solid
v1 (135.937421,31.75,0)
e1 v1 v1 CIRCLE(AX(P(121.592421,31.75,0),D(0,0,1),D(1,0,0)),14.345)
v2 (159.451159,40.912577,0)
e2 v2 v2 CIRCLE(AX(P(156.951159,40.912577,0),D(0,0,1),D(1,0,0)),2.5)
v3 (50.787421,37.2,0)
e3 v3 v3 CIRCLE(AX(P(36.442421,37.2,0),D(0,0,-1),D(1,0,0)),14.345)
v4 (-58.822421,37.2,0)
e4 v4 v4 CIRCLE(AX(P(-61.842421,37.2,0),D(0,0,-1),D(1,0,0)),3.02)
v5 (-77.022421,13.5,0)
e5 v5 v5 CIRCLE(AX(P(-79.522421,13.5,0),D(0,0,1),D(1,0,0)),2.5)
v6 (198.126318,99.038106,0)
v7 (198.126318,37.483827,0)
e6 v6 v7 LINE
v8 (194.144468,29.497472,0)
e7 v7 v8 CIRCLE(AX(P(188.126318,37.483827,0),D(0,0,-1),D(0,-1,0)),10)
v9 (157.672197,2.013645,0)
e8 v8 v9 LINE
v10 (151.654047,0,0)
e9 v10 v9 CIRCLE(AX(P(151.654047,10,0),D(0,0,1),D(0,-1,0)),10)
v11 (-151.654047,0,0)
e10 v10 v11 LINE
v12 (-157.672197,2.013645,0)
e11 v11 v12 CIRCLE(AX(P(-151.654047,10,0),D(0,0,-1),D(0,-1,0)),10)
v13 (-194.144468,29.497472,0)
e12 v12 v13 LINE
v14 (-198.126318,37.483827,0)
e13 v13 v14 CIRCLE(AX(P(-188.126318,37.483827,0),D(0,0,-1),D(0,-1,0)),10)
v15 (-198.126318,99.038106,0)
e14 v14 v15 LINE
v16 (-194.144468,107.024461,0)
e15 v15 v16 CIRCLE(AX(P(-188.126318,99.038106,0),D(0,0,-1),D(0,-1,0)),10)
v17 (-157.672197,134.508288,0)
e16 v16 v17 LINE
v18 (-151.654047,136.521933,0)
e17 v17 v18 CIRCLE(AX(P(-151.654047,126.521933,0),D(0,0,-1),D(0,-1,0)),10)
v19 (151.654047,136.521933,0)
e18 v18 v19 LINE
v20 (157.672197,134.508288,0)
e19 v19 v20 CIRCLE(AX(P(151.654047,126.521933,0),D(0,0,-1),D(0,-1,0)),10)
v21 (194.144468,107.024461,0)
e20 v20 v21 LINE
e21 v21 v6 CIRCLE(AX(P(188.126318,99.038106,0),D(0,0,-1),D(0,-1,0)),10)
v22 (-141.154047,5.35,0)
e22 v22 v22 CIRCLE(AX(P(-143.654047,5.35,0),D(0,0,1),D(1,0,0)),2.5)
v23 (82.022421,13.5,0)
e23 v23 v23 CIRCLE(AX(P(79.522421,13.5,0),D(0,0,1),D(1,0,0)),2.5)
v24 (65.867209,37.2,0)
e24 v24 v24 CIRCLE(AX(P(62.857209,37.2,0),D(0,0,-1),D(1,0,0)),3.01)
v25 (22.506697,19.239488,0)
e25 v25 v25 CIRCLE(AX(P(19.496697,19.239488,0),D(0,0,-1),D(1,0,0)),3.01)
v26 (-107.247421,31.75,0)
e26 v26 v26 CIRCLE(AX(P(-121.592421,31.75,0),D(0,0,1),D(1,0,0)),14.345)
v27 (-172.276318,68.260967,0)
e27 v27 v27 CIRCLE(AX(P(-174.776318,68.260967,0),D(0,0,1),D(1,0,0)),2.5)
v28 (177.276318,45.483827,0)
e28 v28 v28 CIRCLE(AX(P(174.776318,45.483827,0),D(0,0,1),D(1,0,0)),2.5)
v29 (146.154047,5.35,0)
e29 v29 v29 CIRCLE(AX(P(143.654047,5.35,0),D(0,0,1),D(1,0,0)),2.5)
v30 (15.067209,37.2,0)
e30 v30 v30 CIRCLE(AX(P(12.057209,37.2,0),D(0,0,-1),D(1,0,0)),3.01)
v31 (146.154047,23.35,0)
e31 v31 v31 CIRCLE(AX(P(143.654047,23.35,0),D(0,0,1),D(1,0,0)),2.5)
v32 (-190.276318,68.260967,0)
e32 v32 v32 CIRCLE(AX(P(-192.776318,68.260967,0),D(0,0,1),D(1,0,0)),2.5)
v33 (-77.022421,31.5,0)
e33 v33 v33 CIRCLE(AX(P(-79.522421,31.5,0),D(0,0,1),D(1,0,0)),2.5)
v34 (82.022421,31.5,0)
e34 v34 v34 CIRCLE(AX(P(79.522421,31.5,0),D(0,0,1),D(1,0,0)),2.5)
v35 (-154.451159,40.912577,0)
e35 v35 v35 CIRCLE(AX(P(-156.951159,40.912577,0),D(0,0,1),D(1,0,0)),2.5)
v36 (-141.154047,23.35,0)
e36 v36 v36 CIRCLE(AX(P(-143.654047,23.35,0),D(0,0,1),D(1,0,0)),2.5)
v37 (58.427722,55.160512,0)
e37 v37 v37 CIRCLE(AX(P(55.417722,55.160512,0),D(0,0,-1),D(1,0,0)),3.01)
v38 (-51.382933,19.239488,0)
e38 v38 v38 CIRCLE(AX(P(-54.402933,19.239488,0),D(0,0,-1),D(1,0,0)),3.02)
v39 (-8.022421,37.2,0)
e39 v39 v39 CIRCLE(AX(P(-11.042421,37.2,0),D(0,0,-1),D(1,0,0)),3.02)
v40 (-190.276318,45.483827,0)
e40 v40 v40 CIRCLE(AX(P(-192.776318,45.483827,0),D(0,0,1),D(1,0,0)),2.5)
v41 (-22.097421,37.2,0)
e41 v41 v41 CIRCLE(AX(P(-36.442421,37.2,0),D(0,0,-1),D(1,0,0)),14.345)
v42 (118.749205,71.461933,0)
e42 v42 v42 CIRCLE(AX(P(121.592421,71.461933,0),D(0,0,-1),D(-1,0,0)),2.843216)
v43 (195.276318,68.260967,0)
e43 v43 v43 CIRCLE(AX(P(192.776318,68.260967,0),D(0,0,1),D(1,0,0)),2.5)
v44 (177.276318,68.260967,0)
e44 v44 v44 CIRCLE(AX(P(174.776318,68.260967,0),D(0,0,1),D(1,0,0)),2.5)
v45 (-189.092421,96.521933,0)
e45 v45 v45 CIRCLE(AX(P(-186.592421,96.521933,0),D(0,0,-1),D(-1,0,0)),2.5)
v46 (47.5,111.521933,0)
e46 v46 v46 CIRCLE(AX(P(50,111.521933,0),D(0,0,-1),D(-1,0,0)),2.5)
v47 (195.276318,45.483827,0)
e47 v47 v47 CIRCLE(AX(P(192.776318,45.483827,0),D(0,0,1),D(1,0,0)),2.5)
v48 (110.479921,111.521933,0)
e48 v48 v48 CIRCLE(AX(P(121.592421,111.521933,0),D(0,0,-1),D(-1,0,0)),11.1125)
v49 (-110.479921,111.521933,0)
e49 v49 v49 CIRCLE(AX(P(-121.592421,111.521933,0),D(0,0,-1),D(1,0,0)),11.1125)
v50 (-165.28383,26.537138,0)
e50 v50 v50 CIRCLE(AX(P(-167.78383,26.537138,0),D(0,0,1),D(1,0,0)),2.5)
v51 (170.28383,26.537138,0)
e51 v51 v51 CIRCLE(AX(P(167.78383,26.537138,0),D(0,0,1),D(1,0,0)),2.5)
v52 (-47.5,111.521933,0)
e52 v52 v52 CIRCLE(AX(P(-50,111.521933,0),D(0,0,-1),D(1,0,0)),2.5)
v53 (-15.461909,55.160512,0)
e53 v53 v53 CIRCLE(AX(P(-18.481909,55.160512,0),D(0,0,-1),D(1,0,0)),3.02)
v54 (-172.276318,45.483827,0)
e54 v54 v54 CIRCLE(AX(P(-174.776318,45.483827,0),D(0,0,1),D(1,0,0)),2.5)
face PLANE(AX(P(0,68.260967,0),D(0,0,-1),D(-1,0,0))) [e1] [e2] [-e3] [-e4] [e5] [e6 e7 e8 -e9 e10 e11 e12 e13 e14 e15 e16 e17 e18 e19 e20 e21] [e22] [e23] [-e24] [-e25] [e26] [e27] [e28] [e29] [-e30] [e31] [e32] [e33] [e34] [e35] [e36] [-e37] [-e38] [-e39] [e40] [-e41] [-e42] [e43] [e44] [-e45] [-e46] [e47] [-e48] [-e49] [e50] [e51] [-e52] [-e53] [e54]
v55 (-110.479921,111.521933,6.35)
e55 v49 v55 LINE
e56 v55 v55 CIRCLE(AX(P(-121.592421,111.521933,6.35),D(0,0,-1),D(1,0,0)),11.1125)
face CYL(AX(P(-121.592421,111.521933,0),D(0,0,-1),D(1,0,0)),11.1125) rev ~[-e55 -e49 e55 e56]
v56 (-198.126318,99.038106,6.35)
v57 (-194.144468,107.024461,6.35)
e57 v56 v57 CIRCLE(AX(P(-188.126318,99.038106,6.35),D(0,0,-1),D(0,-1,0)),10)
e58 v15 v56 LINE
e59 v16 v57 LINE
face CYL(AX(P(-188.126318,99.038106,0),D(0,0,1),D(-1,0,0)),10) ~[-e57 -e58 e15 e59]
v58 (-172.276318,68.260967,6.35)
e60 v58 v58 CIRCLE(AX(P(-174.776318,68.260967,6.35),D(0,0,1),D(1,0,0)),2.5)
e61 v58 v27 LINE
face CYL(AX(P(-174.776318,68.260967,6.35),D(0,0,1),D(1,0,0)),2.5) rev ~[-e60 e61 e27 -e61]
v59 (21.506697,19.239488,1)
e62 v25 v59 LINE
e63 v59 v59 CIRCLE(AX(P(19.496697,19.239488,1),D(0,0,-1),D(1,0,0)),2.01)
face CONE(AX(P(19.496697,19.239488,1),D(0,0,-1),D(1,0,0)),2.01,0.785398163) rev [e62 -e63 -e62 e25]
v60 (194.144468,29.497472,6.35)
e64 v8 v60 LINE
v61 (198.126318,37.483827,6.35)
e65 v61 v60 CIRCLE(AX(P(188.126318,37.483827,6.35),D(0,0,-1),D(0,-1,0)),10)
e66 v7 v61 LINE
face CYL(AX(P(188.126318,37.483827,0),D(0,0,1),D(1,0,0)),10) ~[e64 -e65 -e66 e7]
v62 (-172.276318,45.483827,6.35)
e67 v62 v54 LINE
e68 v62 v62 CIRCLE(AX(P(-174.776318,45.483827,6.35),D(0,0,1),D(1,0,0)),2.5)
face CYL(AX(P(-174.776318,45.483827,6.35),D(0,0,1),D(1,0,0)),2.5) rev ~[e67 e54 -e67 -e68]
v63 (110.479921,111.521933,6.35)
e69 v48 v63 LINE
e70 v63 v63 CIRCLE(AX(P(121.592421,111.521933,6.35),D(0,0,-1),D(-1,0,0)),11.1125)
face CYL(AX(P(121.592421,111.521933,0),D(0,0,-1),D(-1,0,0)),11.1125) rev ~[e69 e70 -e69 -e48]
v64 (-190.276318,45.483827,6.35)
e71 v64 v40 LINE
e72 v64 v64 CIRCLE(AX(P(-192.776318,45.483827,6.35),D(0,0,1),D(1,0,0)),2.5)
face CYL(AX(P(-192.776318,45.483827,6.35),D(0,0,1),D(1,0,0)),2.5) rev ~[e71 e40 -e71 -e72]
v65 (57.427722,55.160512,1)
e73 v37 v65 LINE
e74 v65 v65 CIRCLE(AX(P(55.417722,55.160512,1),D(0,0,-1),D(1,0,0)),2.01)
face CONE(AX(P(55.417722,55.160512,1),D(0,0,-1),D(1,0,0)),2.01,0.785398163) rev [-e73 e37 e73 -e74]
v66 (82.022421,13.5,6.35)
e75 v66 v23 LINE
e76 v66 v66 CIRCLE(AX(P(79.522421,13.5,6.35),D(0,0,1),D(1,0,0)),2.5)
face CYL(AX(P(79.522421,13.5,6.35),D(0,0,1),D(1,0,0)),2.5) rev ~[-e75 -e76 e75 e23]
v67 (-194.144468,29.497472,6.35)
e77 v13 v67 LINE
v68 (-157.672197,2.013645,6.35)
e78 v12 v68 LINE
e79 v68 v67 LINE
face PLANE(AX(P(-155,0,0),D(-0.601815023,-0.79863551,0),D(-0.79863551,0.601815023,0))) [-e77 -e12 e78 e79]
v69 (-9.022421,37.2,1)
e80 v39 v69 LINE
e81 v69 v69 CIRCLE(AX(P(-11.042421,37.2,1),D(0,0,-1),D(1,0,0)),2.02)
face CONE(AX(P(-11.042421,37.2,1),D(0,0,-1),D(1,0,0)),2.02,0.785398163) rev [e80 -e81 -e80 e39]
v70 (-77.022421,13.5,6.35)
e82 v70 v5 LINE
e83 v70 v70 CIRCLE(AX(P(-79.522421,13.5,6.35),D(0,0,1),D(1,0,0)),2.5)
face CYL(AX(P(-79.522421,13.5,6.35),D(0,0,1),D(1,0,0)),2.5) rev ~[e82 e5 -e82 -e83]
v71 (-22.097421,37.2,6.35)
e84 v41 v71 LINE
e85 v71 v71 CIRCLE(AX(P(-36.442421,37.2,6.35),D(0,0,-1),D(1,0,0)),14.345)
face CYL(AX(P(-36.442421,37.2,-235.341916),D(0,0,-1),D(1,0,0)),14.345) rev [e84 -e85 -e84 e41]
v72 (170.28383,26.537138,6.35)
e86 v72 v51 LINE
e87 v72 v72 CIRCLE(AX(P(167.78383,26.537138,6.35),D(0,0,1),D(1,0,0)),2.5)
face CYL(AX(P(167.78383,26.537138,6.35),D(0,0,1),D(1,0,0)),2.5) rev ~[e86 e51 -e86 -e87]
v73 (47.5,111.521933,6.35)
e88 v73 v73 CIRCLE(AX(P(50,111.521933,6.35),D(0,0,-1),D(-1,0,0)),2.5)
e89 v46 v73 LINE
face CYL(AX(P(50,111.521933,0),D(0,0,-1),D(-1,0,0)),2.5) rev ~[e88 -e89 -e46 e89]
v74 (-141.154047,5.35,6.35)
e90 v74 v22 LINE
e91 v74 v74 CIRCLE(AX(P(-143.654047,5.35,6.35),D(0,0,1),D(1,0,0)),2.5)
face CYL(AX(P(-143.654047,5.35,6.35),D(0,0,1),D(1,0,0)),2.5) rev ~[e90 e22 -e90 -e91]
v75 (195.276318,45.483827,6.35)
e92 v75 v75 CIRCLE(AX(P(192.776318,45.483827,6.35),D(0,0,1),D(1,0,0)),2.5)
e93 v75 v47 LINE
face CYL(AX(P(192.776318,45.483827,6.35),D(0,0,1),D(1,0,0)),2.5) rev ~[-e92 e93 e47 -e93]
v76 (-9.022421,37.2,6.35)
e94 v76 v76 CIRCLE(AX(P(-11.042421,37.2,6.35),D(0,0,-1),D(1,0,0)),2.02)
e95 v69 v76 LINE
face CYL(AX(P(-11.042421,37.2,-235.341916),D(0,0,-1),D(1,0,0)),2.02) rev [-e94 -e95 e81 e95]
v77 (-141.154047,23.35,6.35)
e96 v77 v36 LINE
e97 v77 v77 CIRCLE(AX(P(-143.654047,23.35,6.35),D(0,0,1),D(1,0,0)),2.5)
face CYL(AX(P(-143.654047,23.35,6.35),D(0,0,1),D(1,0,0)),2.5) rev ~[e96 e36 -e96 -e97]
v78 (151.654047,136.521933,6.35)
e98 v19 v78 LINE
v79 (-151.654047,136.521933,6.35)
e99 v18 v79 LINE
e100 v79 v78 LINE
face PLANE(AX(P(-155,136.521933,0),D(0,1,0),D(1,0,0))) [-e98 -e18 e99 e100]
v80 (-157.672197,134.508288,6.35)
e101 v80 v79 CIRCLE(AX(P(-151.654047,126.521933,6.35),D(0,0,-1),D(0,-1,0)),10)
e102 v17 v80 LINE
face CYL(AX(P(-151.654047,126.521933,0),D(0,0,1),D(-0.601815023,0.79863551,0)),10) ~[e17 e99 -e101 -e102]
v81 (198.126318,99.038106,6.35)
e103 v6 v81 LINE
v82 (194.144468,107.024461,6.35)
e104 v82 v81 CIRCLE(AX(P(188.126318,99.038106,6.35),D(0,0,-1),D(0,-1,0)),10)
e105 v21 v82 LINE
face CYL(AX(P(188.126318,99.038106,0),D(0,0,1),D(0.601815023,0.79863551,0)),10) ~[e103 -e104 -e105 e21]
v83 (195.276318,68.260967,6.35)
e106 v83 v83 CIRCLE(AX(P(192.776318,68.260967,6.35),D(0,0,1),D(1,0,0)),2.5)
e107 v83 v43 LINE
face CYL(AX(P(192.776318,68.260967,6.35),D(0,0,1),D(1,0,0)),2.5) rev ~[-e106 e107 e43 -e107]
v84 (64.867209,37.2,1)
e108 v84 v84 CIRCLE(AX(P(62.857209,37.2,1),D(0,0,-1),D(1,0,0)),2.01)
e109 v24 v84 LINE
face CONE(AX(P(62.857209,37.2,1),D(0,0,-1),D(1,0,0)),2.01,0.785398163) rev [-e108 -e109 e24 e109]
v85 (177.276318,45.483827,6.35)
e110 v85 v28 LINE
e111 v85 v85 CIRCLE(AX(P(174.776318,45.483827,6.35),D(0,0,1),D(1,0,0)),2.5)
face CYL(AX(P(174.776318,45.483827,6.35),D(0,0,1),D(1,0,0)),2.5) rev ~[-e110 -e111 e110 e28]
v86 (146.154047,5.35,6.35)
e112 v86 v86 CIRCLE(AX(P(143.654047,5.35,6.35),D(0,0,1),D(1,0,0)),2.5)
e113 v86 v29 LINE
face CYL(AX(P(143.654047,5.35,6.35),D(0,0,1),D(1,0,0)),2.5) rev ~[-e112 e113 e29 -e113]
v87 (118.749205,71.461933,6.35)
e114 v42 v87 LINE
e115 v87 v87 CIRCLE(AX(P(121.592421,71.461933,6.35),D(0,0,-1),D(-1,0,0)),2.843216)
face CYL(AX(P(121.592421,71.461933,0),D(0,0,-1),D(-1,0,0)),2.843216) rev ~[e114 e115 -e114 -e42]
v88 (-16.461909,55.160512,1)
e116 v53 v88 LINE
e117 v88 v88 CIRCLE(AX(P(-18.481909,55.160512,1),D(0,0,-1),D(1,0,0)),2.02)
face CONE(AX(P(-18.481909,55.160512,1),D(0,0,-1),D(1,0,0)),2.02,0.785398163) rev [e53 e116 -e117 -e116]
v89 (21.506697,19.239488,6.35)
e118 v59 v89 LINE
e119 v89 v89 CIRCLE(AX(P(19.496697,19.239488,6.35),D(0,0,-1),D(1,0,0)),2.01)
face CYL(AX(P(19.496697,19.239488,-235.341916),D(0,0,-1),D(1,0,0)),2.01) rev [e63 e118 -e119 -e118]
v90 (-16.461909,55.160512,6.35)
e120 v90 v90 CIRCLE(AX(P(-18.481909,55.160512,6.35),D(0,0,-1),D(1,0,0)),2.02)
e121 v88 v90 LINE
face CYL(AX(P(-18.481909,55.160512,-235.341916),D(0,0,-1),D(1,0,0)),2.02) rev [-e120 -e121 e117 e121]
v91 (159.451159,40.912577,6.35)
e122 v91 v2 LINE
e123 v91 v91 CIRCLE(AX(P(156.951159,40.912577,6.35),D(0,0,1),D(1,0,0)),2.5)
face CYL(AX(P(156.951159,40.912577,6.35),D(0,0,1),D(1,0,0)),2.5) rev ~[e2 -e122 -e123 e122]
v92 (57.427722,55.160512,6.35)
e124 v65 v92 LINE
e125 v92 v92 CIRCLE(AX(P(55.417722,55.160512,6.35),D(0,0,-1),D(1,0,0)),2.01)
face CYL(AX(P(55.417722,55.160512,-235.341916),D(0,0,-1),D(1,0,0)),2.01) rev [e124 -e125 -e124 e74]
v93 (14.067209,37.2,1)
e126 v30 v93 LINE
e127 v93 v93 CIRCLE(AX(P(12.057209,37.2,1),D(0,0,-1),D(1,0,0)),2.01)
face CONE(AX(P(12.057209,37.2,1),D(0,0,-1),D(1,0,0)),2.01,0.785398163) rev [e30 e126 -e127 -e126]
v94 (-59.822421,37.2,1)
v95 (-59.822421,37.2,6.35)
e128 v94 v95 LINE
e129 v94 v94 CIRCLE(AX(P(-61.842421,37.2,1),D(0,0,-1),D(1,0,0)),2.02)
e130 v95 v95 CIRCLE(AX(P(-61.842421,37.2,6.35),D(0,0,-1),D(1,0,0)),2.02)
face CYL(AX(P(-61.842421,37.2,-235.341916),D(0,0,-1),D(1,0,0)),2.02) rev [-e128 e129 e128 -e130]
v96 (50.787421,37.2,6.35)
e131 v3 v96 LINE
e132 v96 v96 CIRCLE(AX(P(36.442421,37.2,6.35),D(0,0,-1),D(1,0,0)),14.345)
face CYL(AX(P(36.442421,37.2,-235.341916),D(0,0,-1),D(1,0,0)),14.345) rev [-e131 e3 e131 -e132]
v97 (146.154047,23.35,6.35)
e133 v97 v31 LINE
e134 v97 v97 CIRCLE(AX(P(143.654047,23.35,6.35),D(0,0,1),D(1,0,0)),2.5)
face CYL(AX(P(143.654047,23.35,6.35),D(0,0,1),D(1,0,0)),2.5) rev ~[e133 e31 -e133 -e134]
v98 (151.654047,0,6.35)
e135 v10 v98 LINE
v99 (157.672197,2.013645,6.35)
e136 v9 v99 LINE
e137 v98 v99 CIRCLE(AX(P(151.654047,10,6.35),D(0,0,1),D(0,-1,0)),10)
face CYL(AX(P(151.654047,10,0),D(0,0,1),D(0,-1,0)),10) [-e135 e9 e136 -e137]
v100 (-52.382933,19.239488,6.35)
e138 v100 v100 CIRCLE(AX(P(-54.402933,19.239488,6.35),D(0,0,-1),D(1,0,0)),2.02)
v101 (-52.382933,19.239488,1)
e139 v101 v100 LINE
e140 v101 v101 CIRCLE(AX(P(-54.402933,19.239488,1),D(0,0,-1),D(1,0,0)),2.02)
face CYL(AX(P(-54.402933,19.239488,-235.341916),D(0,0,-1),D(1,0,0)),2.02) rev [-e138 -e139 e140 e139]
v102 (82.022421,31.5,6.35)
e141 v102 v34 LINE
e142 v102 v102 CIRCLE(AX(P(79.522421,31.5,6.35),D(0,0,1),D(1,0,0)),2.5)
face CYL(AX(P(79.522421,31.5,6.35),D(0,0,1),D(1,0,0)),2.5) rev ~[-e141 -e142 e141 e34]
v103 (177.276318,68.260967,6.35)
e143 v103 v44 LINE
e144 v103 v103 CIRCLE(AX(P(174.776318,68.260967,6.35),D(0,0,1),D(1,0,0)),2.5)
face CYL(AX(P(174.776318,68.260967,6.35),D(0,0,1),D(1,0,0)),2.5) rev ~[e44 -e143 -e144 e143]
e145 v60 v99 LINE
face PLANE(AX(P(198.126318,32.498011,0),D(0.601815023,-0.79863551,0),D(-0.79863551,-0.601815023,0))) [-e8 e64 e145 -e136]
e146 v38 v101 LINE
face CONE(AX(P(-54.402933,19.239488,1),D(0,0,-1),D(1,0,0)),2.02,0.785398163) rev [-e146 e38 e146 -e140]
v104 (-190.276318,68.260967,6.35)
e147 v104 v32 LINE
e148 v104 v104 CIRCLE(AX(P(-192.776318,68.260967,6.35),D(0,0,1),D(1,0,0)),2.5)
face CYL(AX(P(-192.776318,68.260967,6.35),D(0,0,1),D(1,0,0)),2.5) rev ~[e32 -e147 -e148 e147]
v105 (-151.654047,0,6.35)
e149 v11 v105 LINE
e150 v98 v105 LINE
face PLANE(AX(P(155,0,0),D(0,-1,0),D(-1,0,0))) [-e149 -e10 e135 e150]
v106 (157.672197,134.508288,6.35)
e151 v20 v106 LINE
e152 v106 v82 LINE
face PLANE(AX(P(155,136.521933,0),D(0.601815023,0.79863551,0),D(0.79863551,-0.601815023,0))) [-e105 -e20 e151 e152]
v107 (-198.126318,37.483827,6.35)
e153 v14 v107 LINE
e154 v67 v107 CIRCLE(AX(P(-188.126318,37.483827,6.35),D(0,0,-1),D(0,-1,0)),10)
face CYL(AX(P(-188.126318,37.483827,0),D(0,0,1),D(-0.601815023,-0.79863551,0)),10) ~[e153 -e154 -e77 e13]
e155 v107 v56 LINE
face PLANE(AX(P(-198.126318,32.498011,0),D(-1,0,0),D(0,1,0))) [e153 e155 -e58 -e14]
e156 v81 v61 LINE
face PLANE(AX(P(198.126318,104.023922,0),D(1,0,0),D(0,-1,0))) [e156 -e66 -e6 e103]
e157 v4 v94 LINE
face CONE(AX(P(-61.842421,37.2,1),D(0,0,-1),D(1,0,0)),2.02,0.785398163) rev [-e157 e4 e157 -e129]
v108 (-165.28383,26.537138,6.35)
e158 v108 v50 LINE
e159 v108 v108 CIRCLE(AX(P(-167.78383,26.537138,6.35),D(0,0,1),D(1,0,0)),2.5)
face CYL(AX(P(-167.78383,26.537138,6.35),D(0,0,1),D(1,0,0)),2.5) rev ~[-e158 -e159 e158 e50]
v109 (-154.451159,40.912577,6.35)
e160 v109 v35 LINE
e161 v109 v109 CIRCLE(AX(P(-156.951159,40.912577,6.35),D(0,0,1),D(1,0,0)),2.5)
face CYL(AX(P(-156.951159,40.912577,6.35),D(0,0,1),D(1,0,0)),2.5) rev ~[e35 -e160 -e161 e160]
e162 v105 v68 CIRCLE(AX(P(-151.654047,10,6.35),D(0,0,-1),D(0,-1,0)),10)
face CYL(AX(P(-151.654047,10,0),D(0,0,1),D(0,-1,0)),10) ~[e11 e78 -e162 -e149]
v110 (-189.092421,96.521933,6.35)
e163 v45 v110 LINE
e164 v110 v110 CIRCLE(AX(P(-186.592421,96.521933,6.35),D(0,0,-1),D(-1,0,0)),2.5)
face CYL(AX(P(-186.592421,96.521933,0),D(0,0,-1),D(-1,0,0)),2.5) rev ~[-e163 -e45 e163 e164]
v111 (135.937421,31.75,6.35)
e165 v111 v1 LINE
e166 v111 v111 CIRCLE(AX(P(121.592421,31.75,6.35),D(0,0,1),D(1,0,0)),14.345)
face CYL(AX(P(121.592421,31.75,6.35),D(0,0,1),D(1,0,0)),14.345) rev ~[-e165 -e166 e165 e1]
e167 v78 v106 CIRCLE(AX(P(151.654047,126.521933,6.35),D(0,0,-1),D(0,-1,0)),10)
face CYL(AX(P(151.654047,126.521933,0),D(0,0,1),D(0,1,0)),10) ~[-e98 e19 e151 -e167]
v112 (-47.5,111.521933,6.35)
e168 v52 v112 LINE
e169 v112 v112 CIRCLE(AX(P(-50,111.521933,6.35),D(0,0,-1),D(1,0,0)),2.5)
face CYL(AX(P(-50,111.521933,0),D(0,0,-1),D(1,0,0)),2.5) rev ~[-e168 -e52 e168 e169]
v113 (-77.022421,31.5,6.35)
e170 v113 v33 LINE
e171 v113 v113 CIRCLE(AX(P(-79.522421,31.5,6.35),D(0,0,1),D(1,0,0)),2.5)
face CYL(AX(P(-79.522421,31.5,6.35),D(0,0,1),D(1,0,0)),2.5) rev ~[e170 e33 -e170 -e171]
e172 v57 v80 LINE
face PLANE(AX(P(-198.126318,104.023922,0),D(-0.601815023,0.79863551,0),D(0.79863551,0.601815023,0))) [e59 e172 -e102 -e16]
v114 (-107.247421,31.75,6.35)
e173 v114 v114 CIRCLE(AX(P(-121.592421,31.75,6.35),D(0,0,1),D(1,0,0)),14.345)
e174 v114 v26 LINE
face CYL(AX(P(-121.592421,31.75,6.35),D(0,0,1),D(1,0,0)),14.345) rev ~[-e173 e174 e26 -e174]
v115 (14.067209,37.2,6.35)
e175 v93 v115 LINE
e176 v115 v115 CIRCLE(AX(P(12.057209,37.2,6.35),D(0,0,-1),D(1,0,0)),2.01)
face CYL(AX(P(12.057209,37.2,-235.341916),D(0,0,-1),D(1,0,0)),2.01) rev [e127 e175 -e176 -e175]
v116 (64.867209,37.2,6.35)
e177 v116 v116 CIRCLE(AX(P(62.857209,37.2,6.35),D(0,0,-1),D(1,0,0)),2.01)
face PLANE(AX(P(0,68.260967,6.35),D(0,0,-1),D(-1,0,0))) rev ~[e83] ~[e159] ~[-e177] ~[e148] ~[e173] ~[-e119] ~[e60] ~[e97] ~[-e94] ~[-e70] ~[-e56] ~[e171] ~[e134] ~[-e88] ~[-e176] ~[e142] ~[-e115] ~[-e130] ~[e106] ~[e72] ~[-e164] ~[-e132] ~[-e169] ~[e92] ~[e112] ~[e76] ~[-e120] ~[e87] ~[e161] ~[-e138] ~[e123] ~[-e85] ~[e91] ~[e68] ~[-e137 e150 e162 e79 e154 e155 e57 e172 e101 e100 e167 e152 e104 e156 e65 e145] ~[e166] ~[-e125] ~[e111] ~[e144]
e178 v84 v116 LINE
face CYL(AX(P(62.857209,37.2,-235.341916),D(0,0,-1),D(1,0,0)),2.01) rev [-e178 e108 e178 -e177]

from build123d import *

# Parameters (mm, degrees)
SALIENTE_EXTRUIR1_DEPTH    = 6.35
REDONDEO1_R                = 10
CROQUIS2_R                 = 14.345
CORTAR_EXTRUIR1_DEPTH      = 10
CORTAR_EXTRUIR2_DEPTH      = 241.691916085
CORTAR_EXTRUIR2_DEPTH_BACK = 241.691916085
CROQUIS8_R                 = 14.345
CROQUIS8_R_2               = 2.01
CROQUIS8_R_3               = 2.02
CHAFL_N3_SIZE              = 1
CROQUIS9_R                 = 11.1125
CORTAR_EXTRUIR3_DEPTH      = 10
CROQUIS10_R                = 2.5
CROQUIS10_R_2              = 2.843216267
CORTAR_EXTRUIR4_DEPTH      = 10
CROQUIS11_R                = 2.5
CORTAR_EXTRUIR5_DEPTH      = 10


with BuildPart() as part:
    # Croquis1 → Saliente-Extruir1 (new body)
    with BuildSketch(Plane.XY):
        Polygon((155, 0), (-155, 0), (-198.126317543, 32.49801125), (-198.126317543, 104.023922026), (-155, 136.521933277), (155, 136.521933277), (198.126317543, 104.023922026), (198.126317543, 32.49801125), align=None)
    extrude(amount=SALIENTE_EXTRUIR1_DEPTH)

    # Redondeo1
    redondeo1_edges = [part.edges().sort_by_distance(p)[0] for p in [
        (198.126317543, 32.49801125, 3.175),
        (155, 0, 3.175),
        (-155, 0, 3.175),
        (-198.126317543, 32.49801125, 3.175),
        (198.126317543, 104.023922026, 3.175),
        (155, 136.521933277, 3.175),
        (-155, 136.521933277, 3.175),
        (-198.126317543, 104.023922026, 3.175),
    ]]
    fillet(redondeo1_edges, radius=REDONDEO1_R)

    # Croquis2 → Cortar-Extruir1 (cut)
    with BuildSketch(Plane.XY.offset(6.35)):
        with Locations((-121.592420883, 31.75)):
            Circle(CROQUIS2_R)
        with Locations((121.592420883, 31.75)):
            Circle(CROQUIS2_R)
    extrude(amount=-CORTAR_EXTRUIR1_DEPTH, mode=Mode.SUBTRACT)

    # Croquis8 → Cortar-Extruir2 (cut, two sides: drawn at the far end of the back side and taken through both)
    with BuildSketch(Plane.XY.offset(6.35).offset(-CORTAR_EXTRUIR2_DEPTH_BACK)):
        with Locations((-36.442420883, 37.2)):
            Circle(CROQUIS8_R)
        with Locations((36.442420883, 37.2)):
            Circle(CROQUIS8_R)
        with Locations((12.057209477, 37.2)):
            Circle(CROQUIS8_R_2)
        with Locations((19.496697235, 19.239487758)):
            Circle(CROQUIS8_R_2)
        with Locations((62.857209477, 37.2)):
            Circle(CROQUIS8_R_2)
        with Locations((55.417721719, 55.160512242)):
            Circle(CROQUIS8_R_2)
        with Locations((-18.48190864, 55.160512242)):
            Circle(CROQUIS8_R_3)
        with Locations((-11.042420883, 37.2)):
            Circle(CROQUIS8_R_3)
        with Locations((-54.402933125, 19.239487758)):
            Circle(CROQUIS8_R_3)
        with Locations((-61.842420883, 37.2)):
            Circle(CROQUIS8_R_3)
        with Locations((-121.592420883, 31.75)):
            Circle(CROQUIS8_R)
    extrude(amount=CORTAR_EXTRUIR2_DEPTH + CORTAR_EXTRUIR2_DEPTH_BACK, mode=Mode.SUBTRACT)

    # Chaflán3
    chafl_n3_edges = [part.edges().sort_by_distance(p)[0] for p in [
        (-63.862420883, 37.2, 0),
        (10.047209477, 37.2, 0),
        (-13.062420883, 37.2, 0),
        (-20.50190864, 55.160512242, 0),
        (-56.422933125, 19.239487758, 0),
        (53.407721719, 55.160512242, 0),
        (60.847209477, 37.2, 0),
        (17.486697235, 19.239487758, 0),
    ]]
    chamfer(chafl_n3_edges, length=CHAFL_N3_SIZE)

    # Croquis9 → Cortar-Extruir3 (cut)
    with BuildSketch(Plane(origin=(0, 0, 0), x_dir=(-1, 0, 0), z_dir=(0, 0, -1))):
        with Locations((-121.592420883, 111.521933277)):
            Circle(CROQUIS9_R)
        with Locations(Location((121.592420883, 111.521933277, 0), (0, 0, 180))):
            Circle(CROQUIS9_R)
    extrude(amount=-CORTAR_EXTRUIR3_DEPTH, mode=Mode.SUBTRACT)

    # Croquis10 → Cortar-Extruir4 (cut)
    with BuildSketch(Plane(origin=(0, 0, 0), x_dir=(-1, 0, 0), z_dir=(0, 0, -1))):
        with Locations((-50, 111.521933277)):
            Circle(CROQUIS10_R)
        with Locations(Location((50, 111.521933277, 0), (0, 0, 180))):
            Circle(CROQUIS10_R)
        with Locations((-121.592420883, 71.461933277)):
            Circle(CROQUIS10_R_2)
        with Locations((186.592420883, 96.521933277)):
            Circle(CROQUIS10_R)
    extrude(amount=-CORTAR_EXTRUIR4_DEPTH, mode=Mode.SUBTRACT)

    # Croquis11 → Cortar-Extruir5 (cut)
    with BuildSketch(Plane.XY.offset(6.35)):
        with Locations((-143.654046805, 23.35)):
            Circle(CROQUIS11_R)
        with Locations((-143.654046805, 5.35)):
            Circle(CROQUIS11_R)
        with Locations((-79.522420883, 31.5)):
            Circle(CROQUIS11_R)
        with Locations((-79.522420883, 13.5)):
            Circle(CROQUIS11_R)
        with Locations((143.654046805, 5.35)):
            Circle(CROQUIS11_R)
        with Locations((143.654046805, 23.35)):
            Circle(CROQUIS11_R)
        with Locations((79.522420883, 13.5)):
            Circle(CROQUIS11_R)
        with Locations((79.522420883, 31.5)):
            Circle(CROQUIS11_R)
        with Locations((-174.776317543, 45.483827331)):
            Circle(CROQUIS11_R)
        with Locations((-192.776317543, 45.483827331)):
            Circle(CROQUIS11_R)
        with Locations((-174.776317543, 68.260966638)):
            Circle(CROQUIS11_R)
        with Locations((-192.776317543, 68.260966638)):
            Circle(CROQUIS11_R)
        with Locations((174.776317543, 45.483827331)):
            Circle(CROQUIS11_R)
        with Locations((192.776317543, 45.483827331)):
            Circle(CROQUIS11_R)
        with Locations((192.776317543, 68.260966638)):
            Circle(CROQUIS11_R)
        with Locations((174.776317543, 68.260966638)):
            Circle(CROQUIS11_R)
        with Locations((-156.951159176, 40.912577131)):
            Circle(CROQUIS11_R)
        with Locations((-167.783829593, 26.537137951)):
            Circle(CROQUIS11_R)
        with Locations((167.783829593, 26.537137951)):
            Circle(CROQUIS11_R)
        with Locations((156.951159176, 40.912577131)):
            Circle(CROQUIS11_R)
    extrude(amount=-CORTAR_EXTRUIR5_DEPTH, mode=Mode.SUBTRACT)


solid = part.part
